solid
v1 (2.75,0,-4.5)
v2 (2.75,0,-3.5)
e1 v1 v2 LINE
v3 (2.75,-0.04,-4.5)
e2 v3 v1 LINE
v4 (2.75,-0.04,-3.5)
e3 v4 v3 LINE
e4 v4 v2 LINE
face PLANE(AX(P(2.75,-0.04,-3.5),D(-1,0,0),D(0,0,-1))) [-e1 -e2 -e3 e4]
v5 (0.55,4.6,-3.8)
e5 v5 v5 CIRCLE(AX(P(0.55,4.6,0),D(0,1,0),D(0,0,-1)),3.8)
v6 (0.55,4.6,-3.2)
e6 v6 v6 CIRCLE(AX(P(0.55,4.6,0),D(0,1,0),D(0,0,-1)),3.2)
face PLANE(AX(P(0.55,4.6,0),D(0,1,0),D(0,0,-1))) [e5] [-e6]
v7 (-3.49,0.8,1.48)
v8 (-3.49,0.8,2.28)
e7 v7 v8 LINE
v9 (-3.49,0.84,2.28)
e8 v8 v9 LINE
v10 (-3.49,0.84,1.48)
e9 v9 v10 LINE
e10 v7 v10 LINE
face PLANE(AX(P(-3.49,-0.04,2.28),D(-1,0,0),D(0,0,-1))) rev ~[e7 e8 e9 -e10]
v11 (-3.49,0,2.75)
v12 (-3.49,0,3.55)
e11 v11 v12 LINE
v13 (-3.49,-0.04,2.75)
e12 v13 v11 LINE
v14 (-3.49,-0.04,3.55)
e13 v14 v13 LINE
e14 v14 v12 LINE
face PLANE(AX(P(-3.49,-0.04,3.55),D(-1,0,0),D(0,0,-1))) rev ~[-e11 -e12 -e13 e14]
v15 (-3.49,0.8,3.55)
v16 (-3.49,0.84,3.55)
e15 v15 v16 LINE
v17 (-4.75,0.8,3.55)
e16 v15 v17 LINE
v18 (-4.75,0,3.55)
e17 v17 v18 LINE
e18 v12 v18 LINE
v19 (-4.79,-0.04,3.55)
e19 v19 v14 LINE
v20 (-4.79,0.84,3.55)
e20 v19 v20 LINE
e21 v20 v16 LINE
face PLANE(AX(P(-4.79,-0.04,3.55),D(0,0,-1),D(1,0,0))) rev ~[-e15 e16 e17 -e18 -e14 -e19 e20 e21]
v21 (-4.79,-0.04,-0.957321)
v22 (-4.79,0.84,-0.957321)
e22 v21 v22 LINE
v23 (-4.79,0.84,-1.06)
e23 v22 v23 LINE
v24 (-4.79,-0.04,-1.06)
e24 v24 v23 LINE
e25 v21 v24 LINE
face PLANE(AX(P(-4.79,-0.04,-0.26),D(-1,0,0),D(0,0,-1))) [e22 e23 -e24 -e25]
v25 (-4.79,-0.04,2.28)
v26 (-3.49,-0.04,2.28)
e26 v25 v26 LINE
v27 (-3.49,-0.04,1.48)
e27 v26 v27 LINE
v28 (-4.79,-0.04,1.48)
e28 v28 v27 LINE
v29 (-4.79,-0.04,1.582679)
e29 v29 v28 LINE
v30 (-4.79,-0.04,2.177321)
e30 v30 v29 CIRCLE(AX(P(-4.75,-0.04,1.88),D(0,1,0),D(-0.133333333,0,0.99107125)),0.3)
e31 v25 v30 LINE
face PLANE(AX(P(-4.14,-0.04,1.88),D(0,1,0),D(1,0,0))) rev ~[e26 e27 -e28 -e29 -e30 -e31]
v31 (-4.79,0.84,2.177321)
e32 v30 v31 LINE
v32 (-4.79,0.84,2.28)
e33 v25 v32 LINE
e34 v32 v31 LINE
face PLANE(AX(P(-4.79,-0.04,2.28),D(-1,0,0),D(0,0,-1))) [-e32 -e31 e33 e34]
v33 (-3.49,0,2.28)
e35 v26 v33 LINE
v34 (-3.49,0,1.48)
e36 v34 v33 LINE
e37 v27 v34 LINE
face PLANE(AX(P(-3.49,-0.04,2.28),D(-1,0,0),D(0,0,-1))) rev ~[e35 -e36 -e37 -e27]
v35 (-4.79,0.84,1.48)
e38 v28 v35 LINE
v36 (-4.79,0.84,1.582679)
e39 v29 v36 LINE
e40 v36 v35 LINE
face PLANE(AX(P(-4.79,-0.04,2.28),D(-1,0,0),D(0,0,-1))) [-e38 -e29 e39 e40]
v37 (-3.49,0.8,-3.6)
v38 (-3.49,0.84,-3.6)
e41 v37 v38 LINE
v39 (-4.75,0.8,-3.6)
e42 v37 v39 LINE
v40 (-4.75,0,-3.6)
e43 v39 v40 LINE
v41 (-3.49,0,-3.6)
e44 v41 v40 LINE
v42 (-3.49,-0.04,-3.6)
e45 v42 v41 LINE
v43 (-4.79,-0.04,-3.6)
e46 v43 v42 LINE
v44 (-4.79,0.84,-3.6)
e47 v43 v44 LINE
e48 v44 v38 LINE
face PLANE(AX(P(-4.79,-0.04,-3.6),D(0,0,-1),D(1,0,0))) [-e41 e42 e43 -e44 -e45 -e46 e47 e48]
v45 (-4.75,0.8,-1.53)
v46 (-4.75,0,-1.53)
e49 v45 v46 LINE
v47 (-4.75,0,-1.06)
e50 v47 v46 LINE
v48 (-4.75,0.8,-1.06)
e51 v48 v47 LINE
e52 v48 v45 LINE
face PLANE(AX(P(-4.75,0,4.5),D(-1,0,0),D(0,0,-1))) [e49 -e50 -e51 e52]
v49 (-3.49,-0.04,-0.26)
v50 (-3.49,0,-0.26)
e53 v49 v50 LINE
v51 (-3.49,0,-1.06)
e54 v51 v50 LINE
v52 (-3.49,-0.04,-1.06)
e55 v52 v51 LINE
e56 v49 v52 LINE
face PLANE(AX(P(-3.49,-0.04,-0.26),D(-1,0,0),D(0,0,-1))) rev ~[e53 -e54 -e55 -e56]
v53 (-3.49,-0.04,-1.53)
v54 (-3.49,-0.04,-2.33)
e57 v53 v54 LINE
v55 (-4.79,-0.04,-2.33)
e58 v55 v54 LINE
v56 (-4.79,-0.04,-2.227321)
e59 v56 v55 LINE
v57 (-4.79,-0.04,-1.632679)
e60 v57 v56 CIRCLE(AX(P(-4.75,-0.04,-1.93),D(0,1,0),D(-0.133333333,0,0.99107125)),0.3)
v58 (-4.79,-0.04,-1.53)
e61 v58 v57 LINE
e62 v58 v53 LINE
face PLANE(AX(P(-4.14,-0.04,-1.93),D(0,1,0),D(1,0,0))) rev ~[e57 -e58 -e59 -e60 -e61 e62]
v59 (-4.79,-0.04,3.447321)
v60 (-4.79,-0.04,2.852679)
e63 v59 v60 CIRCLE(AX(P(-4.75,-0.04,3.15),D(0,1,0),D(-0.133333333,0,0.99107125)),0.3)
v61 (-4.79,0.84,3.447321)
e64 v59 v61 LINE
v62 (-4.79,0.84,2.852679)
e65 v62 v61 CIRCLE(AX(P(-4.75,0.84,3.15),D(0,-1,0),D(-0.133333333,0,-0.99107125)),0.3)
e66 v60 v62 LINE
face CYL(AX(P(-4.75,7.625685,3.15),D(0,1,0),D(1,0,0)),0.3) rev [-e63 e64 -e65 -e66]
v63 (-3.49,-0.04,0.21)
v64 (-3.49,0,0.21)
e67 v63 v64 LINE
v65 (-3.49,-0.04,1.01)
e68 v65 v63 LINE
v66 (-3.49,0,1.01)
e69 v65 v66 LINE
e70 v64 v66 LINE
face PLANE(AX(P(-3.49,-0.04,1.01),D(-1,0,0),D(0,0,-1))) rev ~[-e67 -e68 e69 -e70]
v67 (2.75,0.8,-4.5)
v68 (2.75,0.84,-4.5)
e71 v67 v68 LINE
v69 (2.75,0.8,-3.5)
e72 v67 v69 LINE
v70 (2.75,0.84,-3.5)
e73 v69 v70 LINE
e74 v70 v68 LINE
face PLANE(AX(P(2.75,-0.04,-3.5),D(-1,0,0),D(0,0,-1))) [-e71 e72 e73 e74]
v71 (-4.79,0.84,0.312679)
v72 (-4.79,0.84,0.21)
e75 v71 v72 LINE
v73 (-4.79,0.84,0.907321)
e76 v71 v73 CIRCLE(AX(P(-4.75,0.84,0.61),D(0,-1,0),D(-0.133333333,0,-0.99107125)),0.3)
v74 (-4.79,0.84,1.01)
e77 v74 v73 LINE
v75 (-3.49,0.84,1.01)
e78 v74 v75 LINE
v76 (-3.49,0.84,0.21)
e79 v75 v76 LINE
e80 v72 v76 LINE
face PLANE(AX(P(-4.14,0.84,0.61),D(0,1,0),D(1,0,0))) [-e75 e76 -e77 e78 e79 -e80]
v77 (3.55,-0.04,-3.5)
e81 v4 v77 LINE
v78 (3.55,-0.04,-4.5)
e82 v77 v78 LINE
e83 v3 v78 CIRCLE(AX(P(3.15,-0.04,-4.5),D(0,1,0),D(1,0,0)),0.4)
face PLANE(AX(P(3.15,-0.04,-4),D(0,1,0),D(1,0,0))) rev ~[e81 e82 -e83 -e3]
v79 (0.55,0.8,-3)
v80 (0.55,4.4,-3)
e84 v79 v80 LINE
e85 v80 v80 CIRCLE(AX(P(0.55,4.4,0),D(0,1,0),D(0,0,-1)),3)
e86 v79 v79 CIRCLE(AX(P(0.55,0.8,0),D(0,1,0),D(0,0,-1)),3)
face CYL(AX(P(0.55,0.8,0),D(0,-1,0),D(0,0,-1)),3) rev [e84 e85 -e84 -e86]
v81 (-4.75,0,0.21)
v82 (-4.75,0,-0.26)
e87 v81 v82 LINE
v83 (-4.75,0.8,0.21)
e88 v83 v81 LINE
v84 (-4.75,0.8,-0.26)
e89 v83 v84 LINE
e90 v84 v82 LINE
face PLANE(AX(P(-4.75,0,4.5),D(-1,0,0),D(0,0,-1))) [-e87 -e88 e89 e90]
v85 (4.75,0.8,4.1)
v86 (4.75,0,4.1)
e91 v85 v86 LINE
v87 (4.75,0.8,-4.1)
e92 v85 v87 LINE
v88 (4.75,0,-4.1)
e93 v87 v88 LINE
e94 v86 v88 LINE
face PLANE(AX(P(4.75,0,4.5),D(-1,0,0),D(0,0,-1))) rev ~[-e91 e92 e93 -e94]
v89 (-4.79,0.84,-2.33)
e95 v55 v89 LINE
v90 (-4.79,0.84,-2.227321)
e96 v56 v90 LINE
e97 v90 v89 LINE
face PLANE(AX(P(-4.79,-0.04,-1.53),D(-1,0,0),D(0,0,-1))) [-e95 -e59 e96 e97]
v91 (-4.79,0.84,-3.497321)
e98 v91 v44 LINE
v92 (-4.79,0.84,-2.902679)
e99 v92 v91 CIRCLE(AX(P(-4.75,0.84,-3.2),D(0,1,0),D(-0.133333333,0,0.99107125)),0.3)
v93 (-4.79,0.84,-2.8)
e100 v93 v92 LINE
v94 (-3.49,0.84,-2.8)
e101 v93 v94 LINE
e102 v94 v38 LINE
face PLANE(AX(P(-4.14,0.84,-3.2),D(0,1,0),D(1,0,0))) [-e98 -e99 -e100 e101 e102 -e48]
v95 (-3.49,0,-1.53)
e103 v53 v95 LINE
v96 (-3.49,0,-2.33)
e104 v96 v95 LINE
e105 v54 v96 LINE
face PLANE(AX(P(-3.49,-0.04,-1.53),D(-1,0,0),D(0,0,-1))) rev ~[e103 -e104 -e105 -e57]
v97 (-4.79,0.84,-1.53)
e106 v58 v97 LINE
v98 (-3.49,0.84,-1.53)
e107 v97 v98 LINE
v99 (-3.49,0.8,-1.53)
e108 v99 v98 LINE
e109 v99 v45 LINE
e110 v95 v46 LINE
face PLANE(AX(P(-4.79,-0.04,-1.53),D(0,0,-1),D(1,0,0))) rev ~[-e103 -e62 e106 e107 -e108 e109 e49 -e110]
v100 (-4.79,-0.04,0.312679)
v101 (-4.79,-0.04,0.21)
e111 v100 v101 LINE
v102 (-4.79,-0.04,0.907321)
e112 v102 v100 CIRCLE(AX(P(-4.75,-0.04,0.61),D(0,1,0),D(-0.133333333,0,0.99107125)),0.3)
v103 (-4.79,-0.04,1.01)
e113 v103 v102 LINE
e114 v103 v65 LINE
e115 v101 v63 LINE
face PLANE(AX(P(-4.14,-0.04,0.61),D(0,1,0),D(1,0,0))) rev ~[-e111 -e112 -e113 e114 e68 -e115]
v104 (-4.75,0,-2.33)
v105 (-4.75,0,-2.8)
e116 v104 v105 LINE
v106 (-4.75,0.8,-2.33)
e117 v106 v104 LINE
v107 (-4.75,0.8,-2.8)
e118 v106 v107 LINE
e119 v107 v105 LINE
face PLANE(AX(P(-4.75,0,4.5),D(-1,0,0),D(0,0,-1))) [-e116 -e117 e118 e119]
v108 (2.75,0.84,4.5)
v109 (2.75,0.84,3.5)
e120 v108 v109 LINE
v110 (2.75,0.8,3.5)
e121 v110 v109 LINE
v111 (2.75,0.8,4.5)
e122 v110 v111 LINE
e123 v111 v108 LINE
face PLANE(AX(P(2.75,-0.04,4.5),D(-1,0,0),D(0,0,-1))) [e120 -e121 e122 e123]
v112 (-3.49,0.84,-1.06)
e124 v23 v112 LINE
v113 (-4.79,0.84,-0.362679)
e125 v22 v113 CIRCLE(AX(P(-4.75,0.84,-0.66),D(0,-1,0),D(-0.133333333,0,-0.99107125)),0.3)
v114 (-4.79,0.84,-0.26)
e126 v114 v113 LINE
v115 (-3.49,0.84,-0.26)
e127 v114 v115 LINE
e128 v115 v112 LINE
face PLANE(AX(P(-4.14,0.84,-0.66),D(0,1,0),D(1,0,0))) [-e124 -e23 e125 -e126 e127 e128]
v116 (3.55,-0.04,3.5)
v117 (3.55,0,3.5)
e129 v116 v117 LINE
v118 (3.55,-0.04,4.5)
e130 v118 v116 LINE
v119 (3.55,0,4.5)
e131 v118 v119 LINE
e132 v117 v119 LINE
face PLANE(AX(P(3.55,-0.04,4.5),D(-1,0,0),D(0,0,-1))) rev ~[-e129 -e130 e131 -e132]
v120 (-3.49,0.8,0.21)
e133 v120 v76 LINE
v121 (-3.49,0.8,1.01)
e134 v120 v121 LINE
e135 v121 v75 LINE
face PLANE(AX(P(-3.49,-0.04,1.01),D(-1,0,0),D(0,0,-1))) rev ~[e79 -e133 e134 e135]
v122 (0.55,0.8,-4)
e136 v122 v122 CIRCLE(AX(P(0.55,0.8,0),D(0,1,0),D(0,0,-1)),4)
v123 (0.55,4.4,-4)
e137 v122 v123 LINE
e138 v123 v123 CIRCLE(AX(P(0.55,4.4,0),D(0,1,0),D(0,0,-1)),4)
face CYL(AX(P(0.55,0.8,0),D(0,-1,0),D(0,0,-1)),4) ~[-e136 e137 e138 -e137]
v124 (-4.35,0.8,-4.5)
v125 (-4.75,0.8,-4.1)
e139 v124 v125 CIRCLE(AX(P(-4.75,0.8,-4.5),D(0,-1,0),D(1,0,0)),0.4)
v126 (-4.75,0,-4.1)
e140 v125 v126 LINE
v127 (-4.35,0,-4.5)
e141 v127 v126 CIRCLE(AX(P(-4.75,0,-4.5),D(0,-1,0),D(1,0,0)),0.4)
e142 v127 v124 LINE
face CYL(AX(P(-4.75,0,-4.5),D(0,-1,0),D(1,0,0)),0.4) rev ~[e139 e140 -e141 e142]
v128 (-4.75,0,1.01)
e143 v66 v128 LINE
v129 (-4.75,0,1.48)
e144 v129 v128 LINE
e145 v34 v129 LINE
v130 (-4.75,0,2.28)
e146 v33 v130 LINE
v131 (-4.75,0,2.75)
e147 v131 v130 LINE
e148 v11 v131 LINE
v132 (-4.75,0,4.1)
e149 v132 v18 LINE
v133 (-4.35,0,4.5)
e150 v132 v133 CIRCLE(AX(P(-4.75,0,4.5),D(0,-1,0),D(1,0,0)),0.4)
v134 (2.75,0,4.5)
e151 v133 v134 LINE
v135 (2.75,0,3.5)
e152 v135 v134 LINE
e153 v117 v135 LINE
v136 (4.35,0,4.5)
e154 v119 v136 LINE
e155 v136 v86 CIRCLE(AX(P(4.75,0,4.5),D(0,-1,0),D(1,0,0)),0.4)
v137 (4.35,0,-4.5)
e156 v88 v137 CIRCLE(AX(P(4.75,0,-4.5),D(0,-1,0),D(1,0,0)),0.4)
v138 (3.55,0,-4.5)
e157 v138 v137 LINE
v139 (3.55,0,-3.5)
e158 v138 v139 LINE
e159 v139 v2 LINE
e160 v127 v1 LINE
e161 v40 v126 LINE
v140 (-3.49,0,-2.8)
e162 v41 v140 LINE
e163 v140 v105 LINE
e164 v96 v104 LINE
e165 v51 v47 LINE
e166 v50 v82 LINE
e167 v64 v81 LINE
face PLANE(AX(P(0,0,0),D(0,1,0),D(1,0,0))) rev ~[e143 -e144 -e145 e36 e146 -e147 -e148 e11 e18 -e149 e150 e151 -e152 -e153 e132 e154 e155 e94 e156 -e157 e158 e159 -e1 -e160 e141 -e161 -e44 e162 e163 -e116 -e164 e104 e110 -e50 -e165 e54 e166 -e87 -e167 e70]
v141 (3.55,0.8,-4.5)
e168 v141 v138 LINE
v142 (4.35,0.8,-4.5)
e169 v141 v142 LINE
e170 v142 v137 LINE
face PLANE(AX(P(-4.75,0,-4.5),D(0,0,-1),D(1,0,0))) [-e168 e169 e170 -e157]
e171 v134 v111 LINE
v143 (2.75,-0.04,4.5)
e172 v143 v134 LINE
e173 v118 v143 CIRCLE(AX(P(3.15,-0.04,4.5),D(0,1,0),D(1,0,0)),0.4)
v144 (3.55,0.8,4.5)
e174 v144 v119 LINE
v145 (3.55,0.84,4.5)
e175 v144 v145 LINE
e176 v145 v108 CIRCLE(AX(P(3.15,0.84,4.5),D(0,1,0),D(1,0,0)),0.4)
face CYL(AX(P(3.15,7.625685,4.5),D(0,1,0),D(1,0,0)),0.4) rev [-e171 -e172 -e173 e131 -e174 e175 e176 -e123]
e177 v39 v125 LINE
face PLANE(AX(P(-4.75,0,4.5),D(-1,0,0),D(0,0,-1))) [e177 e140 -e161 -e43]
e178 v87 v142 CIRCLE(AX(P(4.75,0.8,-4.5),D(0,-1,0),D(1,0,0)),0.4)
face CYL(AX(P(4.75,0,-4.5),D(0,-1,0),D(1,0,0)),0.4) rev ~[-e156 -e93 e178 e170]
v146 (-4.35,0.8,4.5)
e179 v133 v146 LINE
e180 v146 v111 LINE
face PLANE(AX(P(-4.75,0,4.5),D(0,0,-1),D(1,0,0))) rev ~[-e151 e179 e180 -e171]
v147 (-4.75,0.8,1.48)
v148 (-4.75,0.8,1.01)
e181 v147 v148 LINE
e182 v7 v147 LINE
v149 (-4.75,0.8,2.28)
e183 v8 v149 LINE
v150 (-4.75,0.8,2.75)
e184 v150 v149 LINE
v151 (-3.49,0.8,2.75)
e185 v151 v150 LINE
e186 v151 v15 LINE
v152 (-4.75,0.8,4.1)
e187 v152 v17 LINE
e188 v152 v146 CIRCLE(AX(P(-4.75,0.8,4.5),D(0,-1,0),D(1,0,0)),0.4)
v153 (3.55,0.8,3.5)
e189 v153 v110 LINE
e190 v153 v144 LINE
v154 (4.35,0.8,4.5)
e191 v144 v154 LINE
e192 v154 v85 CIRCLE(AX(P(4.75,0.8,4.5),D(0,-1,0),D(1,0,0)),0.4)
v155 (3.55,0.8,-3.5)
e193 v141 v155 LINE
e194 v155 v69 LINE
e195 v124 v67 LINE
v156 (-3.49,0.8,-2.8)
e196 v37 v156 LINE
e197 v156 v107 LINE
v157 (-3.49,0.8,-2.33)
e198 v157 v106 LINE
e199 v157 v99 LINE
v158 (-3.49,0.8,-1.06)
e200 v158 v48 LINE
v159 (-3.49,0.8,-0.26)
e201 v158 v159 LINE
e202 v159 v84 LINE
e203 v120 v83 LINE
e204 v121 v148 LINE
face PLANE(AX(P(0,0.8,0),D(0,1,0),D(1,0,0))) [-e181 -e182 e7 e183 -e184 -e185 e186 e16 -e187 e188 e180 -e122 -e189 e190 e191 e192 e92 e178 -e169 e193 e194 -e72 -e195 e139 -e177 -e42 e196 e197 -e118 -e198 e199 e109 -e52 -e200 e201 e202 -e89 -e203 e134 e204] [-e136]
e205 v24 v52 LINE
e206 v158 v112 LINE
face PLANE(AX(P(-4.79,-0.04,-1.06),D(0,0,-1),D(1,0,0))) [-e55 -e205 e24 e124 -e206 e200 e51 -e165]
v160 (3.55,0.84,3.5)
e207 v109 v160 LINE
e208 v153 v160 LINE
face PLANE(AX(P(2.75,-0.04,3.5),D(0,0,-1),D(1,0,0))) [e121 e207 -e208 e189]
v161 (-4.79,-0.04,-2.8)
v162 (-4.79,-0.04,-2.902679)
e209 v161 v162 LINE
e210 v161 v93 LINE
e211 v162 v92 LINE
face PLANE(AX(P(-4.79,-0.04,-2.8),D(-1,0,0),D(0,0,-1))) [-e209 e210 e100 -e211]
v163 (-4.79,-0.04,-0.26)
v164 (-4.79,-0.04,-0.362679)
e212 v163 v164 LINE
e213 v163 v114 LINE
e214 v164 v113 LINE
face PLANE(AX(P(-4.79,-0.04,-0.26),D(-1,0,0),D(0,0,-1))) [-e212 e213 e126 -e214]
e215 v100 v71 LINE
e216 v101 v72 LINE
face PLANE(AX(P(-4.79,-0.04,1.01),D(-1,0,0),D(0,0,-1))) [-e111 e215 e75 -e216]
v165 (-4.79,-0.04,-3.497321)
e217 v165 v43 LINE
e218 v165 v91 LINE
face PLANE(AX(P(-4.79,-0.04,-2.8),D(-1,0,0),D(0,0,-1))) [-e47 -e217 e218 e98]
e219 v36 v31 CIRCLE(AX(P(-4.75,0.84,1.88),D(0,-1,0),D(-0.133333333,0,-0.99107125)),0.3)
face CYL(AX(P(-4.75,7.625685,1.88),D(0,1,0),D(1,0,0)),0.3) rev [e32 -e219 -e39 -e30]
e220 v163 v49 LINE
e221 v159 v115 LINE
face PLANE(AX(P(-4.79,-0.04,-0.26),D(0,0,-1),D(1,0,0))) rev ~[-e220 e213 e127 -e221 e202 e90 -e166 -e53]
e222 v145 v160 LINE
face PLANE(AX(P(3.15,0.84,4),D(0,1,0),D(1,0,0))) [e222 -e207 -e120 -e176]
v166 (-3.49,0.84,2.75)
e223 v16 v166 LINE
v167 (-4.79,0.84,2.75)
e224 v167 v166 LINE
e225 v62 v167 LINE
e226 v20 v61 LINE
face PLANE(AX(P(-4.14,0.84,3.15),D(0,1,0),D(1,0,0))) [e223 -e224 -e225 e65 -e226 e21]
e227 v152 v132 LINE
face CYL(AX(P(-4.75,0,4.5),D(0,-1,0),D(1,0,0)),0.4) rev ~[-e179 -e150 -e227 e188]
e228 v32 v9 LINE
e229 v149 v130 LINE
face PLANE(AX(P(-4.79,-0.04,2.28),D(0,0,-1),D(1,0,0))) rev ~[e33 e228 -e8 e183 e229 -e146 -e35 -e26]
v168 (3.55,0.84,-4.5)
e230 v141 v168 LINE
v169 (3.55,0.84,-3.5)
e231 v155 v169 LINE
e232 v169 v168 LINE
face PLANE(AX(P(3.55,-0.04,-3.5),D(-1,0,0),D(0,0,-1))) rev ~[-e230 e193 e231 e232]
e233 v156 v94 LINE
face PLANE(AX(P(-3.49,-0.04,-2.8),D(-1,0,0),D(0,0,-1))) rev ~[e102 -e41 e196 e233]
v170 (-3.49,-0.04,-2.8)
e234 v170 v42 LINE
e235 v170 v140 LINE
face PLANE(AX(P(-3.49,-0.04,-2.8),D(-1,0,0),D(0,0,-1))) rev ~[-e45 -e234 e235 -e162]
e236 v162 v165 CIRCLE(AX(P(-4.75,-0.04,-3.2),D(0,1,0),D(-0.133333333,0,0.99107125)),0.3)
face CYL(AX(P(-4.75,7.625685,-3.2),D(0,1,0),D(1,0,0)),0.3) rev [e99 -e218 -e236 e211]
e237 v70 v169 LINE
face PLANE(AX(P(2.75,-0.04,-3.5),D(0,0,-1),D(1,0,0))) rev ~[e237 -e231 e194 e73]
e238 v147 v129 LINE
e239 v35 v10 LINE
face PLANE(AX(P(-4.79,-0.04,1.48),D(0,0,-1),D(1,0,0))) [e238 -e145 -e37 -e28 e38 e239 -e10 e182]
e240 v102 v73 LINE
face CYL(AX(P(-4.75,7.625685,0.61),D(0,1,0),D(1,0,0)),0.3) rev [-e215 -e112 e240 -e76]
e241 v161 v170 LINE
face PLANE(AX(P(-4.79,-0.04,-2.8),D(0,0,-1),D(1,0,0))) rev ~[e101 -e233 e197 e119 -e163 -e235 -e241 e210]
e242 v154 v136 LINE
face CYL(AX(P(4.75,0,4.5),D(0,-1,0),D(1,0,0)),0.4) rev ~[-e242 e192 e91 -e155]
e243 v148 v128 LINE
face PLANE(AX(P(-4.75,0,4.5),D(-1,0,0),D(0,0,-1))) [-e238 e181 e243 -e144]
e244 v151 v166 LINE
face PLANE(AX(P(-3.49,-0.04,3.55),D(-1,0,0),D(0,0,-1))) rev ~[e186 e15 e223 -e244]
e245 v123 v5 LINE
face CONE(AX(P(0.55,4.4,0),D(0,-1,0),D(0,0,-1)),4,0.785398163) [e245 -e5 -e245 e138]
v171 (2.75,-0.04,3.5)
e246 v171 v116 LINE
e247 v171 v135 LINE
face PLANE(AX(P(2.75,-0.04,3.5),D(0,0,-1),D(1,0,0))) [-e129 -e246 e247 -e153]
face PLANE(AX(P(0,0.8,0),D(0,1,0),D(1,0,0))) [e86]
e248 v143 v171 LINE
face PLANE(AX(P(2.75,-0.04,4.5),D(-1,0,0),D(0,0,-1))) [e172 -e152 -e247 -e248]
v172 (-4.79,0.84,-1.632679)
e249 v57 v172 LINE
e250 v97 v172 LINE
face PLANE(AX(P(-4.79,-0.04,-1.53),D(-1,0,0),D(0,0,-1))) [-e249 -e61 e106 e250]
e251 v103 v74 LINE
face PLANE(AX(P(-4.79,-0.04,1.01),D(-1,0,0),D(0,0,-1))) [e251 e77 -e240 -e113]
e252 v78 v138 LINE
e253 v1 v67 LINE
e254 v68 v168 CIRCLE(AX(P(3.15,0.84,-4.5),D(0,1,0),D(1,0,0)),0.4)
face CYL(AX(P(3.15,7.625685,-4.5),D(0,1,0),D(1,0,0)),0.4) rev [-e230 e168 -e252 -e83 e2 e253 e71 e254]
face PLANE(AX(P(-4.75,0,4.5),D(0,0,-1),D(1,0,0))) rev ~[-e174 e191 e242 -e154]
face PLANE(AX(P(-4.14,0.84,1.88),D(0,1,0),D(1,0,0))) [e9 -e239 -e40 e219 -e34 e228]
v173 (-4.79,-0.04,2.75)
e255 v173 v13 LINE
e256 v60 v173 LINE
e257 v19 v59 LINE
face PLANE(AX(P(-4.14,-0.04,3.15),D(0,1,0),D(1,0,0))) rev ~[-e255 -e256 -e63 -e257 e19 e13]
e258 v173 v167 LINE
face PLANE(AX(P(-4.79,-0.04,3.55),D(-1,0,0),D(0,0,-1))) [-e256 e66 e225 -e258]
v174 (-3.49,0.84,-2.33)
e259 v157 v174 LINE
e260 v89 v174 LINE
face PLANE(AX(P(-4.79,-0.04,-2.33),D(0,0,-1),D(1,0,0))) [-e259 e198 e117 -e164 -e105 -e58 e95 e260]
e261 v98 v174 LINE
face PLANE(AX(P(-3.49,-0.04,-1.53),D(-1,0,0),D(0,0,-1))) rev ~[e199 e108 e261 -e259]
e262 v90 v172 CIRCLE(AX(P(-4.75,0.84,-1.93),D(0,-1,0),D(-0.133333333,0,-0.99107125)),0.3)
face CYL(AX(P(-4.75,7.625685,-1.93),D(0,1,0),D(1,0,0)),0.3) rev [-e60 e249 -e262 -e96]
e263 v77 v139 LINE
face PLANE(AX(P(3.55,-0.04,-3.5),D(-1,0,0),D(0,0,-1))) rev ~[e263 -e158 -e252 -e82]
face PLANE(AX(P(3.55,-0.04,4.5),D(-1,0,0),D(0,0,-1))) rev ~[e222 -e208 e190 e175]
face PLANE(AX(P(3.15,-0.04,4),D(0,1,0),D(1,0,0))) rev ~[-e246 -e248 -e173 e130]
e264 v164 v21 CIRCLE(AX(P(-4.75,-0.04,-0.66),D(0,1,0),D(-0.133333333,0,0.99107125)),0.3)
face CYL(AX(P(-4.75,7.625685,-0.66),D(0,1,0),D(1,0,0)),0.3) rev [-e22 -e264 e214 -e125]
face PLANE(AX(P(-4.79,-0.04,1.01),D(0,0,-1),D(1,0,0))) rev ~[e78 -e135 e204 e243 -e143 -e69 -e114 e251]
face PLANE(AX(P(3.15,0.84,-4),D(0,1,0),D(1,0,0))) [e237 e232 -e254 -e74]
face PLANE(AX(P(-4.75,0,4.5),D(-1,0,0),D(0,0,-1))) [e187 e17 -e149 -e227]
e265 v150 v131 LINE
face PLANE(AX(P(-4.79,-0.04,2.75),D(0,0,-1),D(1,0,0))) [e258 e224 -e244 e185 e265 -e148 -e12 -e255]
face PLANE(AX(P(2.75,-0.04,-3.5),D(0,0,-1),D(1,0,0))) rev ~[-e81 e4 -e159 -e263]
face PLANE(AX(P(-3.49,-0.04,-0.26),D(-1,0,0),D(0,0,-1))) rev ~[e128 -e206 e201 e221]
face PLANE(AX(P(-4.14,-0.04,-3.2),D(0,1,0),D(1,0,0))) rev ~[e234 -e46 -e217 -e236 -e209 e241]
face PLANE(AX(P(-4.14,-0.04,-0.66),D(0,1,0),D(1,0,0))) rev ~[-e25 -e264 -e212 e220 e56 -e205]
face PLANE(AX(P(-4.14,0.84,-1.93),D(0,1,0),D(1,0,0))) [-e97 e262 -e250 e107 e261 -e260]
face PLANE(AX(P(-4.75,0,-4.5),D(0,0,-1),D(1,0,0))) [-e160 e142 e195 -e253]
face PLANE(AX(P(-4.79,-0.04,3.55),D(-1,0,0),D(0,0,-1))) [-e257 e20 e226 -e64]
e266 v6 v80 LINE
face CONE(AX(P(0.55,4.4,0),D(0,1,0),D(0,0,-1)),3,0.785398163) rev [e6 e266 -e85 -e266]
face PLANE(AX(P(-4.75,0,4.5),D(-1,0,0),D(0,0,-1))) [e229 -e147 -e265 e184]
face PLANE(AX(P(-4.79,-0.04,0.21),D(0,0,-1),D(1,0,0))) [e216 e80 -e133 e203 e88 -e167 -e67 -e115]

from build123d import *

# Parameters (mm, degrees)
SKETCH_1_W               = 9.5
SKETCH_1_H               = 9
EXTRUDE_1_DEPTH          = 0.8
SKETCH_4_R               = 0.4
CUT_EXTRUDE_1_DEPTH      = 7.59185103
EXTRUDE_2_DEPTH          = 0.04
EXTRUDE_2_DEPTH_BACK     = 0.84
SKETCH_6_W               = 1.3
SKETCH_6_H               = 0.8
SKETCH_6_W_2             = 0.8
SKETCH_6_H_2             = 1
CUT_EXTRUDE_2_DEPTH      = 7.62568487
CUT_EXTRUDE_2_DEPTH_BACK = 7.62568487
SKETCH_5_R               = 0.4
SKETCH_5_R_2             = 0.3
SKETCH_7_R               = 4
SKETCH_7_R_2             = 3
EXTRUDE_3_DEPTH          = 3.8
CHAMFER_1_SIZE           = 0.2
CHAMFER_2_SIZE           = 0.2


with BuildPart() as part:
    # Эскиз1 → Бобышка-Вытянуть1 (new body)
    with BuildSketch(Plane(origin=(0, 0, 0), x_dir=(1, 0, 0), z_dir=(0, 1, 0))):
        Rectangle(SKETCH_1_W, SKETCH_1_H)
    extrude(amount=EXTRUDE_1_DEPTH)

    # Эскиз4 → Вырез-Вытянуть1 (cut, through all)
    with BuildSketch(Plane.XZ):
        with Locations((-4.75, -4.5)):
            Circle(SKETCH_4_R)
        with Locations((4.75, -4.5)):
            Circle(SKETCH_4_R)
        with Locations((-4.75, 4.5)):
            Circle(SKETCH_4_R)
        with Locations((4.75, 4.5)):
            Circle(SKETCH_4_R)
    extrude(amount=-CUT_EXTRUDE_1_DEPTH, mode=Mode.SUBTRACT)

    # Эскиз6 → Бобышка-Вытянуть2 (add, two sides: drawn at the far end of the back side and taken through both)
    with BuildSketch(Plane(origin=(0, 0.8, 0), x_dir=(1, 0, 0), z_dir=(0, 1, 0)).offset(-EXTRUDE_2_DEPTH_BACK)):
        with Locations((-4.14, 3.2)):
            Rectangle(SKETCH_6_W, SKETCH_6_H)
        with Locations((-4.14, 1.93)):
            Rectangle(SKETCH_6_W, SKETCH_6_H)
        with Locations((-4.14, 0.66)):
            Rectangle(SKETCH_6_W, SKETCH_6_H)
        with Locations((-4.14, -0.61)):
            Rectangle(SKETCH_6_W, SKETCH_6_H)
        with Locations((-4.14, -1.88)):
            Rectangle(SKETCH_6_W, SKETCH_6_H)
        with Locations((-4.14, -3.15)):
            Rectangle(SKETCH_6_W, SKETCH_6_H)
        with Locations((3.15, 4)):
            Rectangle(SKETCH_6_W_2, SKETCH_6_H_2)
        with Locations((3.15, -4)):
            Rectangle(SKETCH_6_W_2, SKETCH_6_H_2)
    extrude(amount=EXTRUDE_2_DEPTH + EXTRUDE_2_DEPTH_BACK)

    # Эскиз5 → Вырез-Вытянуть2 (cut, two sides: drawn at the far end of the back side and taken through both)
    with BuildSketch(Plane.XZ.offset(-CUT_EXTRUDE_2_DEPTH_BACK)):
        with Locations((3.15, 4.5)):
            Circle(SKETCH_5_R)
        with Locations((3.15, -4.5)):
            Circle(SKETCH_5_R)
        with Locations((-4.75, -3.2)):
            Circle(SKETCH_5_R_2)
        with Locations((-4.75, -1.93)):
            Circle(SKETCH_5_R_2)
        with Locations((-4.75, -0.66)):
            Circle(SKETCH_5_R_2)
        with Locations((-4.75, 0.61)):
            Circle(SKETCH_5_R_2)
        with Locations((-4.75, 1.88)):
            Circle(SKETCH_5_R_2)
        with Locations((-4.75, 3.15)):
            Circle(SKETCH_5_R_2)
    extrude(amount=CUT_EXTRUDE_2_DEPTH + CUT_EXTRUDE_2_DEPTH_BACK, mode=Mode.SUBTRACT)

    # Эскиз7 → Бобышка-Вытянуть3 (add)
    with BuildSketch(Plane(origin=(0, 0.8, 0), x_dir=(1, 0, 0), z_dir=(0, 1, 0))):
        with Locations(Location((0.55, 0, 0), (0, 0, 90))):
            Circle(SKETCH_7_R)
        with Locations(Location((0.55, 0, 0), (0, 0, 90))):
            Circle(SKETCH_7_R_2, mode=Mode.SUBTRACT)
    extrude(amount=EXTRUDE_3_DEPTH)

    # Фаска1
    chamfer_1_edges = [part.edges().sort_by_distance(p)[0] for p in [
        (0.55, 4.6, 4),
    ]]
    chamfer(chamfer_1_edges, length=CHAMFER_1_SIZE)

    # Фаска2
    chamfer_2_edges = [part.edges().sort_by_distance(p)[0] for p in [
        (0.55, 4.6, 3),
    ]]
    chamfer(chamfer_2_edges, length=CHAMFER_2_SIZE)


solid = part.part
